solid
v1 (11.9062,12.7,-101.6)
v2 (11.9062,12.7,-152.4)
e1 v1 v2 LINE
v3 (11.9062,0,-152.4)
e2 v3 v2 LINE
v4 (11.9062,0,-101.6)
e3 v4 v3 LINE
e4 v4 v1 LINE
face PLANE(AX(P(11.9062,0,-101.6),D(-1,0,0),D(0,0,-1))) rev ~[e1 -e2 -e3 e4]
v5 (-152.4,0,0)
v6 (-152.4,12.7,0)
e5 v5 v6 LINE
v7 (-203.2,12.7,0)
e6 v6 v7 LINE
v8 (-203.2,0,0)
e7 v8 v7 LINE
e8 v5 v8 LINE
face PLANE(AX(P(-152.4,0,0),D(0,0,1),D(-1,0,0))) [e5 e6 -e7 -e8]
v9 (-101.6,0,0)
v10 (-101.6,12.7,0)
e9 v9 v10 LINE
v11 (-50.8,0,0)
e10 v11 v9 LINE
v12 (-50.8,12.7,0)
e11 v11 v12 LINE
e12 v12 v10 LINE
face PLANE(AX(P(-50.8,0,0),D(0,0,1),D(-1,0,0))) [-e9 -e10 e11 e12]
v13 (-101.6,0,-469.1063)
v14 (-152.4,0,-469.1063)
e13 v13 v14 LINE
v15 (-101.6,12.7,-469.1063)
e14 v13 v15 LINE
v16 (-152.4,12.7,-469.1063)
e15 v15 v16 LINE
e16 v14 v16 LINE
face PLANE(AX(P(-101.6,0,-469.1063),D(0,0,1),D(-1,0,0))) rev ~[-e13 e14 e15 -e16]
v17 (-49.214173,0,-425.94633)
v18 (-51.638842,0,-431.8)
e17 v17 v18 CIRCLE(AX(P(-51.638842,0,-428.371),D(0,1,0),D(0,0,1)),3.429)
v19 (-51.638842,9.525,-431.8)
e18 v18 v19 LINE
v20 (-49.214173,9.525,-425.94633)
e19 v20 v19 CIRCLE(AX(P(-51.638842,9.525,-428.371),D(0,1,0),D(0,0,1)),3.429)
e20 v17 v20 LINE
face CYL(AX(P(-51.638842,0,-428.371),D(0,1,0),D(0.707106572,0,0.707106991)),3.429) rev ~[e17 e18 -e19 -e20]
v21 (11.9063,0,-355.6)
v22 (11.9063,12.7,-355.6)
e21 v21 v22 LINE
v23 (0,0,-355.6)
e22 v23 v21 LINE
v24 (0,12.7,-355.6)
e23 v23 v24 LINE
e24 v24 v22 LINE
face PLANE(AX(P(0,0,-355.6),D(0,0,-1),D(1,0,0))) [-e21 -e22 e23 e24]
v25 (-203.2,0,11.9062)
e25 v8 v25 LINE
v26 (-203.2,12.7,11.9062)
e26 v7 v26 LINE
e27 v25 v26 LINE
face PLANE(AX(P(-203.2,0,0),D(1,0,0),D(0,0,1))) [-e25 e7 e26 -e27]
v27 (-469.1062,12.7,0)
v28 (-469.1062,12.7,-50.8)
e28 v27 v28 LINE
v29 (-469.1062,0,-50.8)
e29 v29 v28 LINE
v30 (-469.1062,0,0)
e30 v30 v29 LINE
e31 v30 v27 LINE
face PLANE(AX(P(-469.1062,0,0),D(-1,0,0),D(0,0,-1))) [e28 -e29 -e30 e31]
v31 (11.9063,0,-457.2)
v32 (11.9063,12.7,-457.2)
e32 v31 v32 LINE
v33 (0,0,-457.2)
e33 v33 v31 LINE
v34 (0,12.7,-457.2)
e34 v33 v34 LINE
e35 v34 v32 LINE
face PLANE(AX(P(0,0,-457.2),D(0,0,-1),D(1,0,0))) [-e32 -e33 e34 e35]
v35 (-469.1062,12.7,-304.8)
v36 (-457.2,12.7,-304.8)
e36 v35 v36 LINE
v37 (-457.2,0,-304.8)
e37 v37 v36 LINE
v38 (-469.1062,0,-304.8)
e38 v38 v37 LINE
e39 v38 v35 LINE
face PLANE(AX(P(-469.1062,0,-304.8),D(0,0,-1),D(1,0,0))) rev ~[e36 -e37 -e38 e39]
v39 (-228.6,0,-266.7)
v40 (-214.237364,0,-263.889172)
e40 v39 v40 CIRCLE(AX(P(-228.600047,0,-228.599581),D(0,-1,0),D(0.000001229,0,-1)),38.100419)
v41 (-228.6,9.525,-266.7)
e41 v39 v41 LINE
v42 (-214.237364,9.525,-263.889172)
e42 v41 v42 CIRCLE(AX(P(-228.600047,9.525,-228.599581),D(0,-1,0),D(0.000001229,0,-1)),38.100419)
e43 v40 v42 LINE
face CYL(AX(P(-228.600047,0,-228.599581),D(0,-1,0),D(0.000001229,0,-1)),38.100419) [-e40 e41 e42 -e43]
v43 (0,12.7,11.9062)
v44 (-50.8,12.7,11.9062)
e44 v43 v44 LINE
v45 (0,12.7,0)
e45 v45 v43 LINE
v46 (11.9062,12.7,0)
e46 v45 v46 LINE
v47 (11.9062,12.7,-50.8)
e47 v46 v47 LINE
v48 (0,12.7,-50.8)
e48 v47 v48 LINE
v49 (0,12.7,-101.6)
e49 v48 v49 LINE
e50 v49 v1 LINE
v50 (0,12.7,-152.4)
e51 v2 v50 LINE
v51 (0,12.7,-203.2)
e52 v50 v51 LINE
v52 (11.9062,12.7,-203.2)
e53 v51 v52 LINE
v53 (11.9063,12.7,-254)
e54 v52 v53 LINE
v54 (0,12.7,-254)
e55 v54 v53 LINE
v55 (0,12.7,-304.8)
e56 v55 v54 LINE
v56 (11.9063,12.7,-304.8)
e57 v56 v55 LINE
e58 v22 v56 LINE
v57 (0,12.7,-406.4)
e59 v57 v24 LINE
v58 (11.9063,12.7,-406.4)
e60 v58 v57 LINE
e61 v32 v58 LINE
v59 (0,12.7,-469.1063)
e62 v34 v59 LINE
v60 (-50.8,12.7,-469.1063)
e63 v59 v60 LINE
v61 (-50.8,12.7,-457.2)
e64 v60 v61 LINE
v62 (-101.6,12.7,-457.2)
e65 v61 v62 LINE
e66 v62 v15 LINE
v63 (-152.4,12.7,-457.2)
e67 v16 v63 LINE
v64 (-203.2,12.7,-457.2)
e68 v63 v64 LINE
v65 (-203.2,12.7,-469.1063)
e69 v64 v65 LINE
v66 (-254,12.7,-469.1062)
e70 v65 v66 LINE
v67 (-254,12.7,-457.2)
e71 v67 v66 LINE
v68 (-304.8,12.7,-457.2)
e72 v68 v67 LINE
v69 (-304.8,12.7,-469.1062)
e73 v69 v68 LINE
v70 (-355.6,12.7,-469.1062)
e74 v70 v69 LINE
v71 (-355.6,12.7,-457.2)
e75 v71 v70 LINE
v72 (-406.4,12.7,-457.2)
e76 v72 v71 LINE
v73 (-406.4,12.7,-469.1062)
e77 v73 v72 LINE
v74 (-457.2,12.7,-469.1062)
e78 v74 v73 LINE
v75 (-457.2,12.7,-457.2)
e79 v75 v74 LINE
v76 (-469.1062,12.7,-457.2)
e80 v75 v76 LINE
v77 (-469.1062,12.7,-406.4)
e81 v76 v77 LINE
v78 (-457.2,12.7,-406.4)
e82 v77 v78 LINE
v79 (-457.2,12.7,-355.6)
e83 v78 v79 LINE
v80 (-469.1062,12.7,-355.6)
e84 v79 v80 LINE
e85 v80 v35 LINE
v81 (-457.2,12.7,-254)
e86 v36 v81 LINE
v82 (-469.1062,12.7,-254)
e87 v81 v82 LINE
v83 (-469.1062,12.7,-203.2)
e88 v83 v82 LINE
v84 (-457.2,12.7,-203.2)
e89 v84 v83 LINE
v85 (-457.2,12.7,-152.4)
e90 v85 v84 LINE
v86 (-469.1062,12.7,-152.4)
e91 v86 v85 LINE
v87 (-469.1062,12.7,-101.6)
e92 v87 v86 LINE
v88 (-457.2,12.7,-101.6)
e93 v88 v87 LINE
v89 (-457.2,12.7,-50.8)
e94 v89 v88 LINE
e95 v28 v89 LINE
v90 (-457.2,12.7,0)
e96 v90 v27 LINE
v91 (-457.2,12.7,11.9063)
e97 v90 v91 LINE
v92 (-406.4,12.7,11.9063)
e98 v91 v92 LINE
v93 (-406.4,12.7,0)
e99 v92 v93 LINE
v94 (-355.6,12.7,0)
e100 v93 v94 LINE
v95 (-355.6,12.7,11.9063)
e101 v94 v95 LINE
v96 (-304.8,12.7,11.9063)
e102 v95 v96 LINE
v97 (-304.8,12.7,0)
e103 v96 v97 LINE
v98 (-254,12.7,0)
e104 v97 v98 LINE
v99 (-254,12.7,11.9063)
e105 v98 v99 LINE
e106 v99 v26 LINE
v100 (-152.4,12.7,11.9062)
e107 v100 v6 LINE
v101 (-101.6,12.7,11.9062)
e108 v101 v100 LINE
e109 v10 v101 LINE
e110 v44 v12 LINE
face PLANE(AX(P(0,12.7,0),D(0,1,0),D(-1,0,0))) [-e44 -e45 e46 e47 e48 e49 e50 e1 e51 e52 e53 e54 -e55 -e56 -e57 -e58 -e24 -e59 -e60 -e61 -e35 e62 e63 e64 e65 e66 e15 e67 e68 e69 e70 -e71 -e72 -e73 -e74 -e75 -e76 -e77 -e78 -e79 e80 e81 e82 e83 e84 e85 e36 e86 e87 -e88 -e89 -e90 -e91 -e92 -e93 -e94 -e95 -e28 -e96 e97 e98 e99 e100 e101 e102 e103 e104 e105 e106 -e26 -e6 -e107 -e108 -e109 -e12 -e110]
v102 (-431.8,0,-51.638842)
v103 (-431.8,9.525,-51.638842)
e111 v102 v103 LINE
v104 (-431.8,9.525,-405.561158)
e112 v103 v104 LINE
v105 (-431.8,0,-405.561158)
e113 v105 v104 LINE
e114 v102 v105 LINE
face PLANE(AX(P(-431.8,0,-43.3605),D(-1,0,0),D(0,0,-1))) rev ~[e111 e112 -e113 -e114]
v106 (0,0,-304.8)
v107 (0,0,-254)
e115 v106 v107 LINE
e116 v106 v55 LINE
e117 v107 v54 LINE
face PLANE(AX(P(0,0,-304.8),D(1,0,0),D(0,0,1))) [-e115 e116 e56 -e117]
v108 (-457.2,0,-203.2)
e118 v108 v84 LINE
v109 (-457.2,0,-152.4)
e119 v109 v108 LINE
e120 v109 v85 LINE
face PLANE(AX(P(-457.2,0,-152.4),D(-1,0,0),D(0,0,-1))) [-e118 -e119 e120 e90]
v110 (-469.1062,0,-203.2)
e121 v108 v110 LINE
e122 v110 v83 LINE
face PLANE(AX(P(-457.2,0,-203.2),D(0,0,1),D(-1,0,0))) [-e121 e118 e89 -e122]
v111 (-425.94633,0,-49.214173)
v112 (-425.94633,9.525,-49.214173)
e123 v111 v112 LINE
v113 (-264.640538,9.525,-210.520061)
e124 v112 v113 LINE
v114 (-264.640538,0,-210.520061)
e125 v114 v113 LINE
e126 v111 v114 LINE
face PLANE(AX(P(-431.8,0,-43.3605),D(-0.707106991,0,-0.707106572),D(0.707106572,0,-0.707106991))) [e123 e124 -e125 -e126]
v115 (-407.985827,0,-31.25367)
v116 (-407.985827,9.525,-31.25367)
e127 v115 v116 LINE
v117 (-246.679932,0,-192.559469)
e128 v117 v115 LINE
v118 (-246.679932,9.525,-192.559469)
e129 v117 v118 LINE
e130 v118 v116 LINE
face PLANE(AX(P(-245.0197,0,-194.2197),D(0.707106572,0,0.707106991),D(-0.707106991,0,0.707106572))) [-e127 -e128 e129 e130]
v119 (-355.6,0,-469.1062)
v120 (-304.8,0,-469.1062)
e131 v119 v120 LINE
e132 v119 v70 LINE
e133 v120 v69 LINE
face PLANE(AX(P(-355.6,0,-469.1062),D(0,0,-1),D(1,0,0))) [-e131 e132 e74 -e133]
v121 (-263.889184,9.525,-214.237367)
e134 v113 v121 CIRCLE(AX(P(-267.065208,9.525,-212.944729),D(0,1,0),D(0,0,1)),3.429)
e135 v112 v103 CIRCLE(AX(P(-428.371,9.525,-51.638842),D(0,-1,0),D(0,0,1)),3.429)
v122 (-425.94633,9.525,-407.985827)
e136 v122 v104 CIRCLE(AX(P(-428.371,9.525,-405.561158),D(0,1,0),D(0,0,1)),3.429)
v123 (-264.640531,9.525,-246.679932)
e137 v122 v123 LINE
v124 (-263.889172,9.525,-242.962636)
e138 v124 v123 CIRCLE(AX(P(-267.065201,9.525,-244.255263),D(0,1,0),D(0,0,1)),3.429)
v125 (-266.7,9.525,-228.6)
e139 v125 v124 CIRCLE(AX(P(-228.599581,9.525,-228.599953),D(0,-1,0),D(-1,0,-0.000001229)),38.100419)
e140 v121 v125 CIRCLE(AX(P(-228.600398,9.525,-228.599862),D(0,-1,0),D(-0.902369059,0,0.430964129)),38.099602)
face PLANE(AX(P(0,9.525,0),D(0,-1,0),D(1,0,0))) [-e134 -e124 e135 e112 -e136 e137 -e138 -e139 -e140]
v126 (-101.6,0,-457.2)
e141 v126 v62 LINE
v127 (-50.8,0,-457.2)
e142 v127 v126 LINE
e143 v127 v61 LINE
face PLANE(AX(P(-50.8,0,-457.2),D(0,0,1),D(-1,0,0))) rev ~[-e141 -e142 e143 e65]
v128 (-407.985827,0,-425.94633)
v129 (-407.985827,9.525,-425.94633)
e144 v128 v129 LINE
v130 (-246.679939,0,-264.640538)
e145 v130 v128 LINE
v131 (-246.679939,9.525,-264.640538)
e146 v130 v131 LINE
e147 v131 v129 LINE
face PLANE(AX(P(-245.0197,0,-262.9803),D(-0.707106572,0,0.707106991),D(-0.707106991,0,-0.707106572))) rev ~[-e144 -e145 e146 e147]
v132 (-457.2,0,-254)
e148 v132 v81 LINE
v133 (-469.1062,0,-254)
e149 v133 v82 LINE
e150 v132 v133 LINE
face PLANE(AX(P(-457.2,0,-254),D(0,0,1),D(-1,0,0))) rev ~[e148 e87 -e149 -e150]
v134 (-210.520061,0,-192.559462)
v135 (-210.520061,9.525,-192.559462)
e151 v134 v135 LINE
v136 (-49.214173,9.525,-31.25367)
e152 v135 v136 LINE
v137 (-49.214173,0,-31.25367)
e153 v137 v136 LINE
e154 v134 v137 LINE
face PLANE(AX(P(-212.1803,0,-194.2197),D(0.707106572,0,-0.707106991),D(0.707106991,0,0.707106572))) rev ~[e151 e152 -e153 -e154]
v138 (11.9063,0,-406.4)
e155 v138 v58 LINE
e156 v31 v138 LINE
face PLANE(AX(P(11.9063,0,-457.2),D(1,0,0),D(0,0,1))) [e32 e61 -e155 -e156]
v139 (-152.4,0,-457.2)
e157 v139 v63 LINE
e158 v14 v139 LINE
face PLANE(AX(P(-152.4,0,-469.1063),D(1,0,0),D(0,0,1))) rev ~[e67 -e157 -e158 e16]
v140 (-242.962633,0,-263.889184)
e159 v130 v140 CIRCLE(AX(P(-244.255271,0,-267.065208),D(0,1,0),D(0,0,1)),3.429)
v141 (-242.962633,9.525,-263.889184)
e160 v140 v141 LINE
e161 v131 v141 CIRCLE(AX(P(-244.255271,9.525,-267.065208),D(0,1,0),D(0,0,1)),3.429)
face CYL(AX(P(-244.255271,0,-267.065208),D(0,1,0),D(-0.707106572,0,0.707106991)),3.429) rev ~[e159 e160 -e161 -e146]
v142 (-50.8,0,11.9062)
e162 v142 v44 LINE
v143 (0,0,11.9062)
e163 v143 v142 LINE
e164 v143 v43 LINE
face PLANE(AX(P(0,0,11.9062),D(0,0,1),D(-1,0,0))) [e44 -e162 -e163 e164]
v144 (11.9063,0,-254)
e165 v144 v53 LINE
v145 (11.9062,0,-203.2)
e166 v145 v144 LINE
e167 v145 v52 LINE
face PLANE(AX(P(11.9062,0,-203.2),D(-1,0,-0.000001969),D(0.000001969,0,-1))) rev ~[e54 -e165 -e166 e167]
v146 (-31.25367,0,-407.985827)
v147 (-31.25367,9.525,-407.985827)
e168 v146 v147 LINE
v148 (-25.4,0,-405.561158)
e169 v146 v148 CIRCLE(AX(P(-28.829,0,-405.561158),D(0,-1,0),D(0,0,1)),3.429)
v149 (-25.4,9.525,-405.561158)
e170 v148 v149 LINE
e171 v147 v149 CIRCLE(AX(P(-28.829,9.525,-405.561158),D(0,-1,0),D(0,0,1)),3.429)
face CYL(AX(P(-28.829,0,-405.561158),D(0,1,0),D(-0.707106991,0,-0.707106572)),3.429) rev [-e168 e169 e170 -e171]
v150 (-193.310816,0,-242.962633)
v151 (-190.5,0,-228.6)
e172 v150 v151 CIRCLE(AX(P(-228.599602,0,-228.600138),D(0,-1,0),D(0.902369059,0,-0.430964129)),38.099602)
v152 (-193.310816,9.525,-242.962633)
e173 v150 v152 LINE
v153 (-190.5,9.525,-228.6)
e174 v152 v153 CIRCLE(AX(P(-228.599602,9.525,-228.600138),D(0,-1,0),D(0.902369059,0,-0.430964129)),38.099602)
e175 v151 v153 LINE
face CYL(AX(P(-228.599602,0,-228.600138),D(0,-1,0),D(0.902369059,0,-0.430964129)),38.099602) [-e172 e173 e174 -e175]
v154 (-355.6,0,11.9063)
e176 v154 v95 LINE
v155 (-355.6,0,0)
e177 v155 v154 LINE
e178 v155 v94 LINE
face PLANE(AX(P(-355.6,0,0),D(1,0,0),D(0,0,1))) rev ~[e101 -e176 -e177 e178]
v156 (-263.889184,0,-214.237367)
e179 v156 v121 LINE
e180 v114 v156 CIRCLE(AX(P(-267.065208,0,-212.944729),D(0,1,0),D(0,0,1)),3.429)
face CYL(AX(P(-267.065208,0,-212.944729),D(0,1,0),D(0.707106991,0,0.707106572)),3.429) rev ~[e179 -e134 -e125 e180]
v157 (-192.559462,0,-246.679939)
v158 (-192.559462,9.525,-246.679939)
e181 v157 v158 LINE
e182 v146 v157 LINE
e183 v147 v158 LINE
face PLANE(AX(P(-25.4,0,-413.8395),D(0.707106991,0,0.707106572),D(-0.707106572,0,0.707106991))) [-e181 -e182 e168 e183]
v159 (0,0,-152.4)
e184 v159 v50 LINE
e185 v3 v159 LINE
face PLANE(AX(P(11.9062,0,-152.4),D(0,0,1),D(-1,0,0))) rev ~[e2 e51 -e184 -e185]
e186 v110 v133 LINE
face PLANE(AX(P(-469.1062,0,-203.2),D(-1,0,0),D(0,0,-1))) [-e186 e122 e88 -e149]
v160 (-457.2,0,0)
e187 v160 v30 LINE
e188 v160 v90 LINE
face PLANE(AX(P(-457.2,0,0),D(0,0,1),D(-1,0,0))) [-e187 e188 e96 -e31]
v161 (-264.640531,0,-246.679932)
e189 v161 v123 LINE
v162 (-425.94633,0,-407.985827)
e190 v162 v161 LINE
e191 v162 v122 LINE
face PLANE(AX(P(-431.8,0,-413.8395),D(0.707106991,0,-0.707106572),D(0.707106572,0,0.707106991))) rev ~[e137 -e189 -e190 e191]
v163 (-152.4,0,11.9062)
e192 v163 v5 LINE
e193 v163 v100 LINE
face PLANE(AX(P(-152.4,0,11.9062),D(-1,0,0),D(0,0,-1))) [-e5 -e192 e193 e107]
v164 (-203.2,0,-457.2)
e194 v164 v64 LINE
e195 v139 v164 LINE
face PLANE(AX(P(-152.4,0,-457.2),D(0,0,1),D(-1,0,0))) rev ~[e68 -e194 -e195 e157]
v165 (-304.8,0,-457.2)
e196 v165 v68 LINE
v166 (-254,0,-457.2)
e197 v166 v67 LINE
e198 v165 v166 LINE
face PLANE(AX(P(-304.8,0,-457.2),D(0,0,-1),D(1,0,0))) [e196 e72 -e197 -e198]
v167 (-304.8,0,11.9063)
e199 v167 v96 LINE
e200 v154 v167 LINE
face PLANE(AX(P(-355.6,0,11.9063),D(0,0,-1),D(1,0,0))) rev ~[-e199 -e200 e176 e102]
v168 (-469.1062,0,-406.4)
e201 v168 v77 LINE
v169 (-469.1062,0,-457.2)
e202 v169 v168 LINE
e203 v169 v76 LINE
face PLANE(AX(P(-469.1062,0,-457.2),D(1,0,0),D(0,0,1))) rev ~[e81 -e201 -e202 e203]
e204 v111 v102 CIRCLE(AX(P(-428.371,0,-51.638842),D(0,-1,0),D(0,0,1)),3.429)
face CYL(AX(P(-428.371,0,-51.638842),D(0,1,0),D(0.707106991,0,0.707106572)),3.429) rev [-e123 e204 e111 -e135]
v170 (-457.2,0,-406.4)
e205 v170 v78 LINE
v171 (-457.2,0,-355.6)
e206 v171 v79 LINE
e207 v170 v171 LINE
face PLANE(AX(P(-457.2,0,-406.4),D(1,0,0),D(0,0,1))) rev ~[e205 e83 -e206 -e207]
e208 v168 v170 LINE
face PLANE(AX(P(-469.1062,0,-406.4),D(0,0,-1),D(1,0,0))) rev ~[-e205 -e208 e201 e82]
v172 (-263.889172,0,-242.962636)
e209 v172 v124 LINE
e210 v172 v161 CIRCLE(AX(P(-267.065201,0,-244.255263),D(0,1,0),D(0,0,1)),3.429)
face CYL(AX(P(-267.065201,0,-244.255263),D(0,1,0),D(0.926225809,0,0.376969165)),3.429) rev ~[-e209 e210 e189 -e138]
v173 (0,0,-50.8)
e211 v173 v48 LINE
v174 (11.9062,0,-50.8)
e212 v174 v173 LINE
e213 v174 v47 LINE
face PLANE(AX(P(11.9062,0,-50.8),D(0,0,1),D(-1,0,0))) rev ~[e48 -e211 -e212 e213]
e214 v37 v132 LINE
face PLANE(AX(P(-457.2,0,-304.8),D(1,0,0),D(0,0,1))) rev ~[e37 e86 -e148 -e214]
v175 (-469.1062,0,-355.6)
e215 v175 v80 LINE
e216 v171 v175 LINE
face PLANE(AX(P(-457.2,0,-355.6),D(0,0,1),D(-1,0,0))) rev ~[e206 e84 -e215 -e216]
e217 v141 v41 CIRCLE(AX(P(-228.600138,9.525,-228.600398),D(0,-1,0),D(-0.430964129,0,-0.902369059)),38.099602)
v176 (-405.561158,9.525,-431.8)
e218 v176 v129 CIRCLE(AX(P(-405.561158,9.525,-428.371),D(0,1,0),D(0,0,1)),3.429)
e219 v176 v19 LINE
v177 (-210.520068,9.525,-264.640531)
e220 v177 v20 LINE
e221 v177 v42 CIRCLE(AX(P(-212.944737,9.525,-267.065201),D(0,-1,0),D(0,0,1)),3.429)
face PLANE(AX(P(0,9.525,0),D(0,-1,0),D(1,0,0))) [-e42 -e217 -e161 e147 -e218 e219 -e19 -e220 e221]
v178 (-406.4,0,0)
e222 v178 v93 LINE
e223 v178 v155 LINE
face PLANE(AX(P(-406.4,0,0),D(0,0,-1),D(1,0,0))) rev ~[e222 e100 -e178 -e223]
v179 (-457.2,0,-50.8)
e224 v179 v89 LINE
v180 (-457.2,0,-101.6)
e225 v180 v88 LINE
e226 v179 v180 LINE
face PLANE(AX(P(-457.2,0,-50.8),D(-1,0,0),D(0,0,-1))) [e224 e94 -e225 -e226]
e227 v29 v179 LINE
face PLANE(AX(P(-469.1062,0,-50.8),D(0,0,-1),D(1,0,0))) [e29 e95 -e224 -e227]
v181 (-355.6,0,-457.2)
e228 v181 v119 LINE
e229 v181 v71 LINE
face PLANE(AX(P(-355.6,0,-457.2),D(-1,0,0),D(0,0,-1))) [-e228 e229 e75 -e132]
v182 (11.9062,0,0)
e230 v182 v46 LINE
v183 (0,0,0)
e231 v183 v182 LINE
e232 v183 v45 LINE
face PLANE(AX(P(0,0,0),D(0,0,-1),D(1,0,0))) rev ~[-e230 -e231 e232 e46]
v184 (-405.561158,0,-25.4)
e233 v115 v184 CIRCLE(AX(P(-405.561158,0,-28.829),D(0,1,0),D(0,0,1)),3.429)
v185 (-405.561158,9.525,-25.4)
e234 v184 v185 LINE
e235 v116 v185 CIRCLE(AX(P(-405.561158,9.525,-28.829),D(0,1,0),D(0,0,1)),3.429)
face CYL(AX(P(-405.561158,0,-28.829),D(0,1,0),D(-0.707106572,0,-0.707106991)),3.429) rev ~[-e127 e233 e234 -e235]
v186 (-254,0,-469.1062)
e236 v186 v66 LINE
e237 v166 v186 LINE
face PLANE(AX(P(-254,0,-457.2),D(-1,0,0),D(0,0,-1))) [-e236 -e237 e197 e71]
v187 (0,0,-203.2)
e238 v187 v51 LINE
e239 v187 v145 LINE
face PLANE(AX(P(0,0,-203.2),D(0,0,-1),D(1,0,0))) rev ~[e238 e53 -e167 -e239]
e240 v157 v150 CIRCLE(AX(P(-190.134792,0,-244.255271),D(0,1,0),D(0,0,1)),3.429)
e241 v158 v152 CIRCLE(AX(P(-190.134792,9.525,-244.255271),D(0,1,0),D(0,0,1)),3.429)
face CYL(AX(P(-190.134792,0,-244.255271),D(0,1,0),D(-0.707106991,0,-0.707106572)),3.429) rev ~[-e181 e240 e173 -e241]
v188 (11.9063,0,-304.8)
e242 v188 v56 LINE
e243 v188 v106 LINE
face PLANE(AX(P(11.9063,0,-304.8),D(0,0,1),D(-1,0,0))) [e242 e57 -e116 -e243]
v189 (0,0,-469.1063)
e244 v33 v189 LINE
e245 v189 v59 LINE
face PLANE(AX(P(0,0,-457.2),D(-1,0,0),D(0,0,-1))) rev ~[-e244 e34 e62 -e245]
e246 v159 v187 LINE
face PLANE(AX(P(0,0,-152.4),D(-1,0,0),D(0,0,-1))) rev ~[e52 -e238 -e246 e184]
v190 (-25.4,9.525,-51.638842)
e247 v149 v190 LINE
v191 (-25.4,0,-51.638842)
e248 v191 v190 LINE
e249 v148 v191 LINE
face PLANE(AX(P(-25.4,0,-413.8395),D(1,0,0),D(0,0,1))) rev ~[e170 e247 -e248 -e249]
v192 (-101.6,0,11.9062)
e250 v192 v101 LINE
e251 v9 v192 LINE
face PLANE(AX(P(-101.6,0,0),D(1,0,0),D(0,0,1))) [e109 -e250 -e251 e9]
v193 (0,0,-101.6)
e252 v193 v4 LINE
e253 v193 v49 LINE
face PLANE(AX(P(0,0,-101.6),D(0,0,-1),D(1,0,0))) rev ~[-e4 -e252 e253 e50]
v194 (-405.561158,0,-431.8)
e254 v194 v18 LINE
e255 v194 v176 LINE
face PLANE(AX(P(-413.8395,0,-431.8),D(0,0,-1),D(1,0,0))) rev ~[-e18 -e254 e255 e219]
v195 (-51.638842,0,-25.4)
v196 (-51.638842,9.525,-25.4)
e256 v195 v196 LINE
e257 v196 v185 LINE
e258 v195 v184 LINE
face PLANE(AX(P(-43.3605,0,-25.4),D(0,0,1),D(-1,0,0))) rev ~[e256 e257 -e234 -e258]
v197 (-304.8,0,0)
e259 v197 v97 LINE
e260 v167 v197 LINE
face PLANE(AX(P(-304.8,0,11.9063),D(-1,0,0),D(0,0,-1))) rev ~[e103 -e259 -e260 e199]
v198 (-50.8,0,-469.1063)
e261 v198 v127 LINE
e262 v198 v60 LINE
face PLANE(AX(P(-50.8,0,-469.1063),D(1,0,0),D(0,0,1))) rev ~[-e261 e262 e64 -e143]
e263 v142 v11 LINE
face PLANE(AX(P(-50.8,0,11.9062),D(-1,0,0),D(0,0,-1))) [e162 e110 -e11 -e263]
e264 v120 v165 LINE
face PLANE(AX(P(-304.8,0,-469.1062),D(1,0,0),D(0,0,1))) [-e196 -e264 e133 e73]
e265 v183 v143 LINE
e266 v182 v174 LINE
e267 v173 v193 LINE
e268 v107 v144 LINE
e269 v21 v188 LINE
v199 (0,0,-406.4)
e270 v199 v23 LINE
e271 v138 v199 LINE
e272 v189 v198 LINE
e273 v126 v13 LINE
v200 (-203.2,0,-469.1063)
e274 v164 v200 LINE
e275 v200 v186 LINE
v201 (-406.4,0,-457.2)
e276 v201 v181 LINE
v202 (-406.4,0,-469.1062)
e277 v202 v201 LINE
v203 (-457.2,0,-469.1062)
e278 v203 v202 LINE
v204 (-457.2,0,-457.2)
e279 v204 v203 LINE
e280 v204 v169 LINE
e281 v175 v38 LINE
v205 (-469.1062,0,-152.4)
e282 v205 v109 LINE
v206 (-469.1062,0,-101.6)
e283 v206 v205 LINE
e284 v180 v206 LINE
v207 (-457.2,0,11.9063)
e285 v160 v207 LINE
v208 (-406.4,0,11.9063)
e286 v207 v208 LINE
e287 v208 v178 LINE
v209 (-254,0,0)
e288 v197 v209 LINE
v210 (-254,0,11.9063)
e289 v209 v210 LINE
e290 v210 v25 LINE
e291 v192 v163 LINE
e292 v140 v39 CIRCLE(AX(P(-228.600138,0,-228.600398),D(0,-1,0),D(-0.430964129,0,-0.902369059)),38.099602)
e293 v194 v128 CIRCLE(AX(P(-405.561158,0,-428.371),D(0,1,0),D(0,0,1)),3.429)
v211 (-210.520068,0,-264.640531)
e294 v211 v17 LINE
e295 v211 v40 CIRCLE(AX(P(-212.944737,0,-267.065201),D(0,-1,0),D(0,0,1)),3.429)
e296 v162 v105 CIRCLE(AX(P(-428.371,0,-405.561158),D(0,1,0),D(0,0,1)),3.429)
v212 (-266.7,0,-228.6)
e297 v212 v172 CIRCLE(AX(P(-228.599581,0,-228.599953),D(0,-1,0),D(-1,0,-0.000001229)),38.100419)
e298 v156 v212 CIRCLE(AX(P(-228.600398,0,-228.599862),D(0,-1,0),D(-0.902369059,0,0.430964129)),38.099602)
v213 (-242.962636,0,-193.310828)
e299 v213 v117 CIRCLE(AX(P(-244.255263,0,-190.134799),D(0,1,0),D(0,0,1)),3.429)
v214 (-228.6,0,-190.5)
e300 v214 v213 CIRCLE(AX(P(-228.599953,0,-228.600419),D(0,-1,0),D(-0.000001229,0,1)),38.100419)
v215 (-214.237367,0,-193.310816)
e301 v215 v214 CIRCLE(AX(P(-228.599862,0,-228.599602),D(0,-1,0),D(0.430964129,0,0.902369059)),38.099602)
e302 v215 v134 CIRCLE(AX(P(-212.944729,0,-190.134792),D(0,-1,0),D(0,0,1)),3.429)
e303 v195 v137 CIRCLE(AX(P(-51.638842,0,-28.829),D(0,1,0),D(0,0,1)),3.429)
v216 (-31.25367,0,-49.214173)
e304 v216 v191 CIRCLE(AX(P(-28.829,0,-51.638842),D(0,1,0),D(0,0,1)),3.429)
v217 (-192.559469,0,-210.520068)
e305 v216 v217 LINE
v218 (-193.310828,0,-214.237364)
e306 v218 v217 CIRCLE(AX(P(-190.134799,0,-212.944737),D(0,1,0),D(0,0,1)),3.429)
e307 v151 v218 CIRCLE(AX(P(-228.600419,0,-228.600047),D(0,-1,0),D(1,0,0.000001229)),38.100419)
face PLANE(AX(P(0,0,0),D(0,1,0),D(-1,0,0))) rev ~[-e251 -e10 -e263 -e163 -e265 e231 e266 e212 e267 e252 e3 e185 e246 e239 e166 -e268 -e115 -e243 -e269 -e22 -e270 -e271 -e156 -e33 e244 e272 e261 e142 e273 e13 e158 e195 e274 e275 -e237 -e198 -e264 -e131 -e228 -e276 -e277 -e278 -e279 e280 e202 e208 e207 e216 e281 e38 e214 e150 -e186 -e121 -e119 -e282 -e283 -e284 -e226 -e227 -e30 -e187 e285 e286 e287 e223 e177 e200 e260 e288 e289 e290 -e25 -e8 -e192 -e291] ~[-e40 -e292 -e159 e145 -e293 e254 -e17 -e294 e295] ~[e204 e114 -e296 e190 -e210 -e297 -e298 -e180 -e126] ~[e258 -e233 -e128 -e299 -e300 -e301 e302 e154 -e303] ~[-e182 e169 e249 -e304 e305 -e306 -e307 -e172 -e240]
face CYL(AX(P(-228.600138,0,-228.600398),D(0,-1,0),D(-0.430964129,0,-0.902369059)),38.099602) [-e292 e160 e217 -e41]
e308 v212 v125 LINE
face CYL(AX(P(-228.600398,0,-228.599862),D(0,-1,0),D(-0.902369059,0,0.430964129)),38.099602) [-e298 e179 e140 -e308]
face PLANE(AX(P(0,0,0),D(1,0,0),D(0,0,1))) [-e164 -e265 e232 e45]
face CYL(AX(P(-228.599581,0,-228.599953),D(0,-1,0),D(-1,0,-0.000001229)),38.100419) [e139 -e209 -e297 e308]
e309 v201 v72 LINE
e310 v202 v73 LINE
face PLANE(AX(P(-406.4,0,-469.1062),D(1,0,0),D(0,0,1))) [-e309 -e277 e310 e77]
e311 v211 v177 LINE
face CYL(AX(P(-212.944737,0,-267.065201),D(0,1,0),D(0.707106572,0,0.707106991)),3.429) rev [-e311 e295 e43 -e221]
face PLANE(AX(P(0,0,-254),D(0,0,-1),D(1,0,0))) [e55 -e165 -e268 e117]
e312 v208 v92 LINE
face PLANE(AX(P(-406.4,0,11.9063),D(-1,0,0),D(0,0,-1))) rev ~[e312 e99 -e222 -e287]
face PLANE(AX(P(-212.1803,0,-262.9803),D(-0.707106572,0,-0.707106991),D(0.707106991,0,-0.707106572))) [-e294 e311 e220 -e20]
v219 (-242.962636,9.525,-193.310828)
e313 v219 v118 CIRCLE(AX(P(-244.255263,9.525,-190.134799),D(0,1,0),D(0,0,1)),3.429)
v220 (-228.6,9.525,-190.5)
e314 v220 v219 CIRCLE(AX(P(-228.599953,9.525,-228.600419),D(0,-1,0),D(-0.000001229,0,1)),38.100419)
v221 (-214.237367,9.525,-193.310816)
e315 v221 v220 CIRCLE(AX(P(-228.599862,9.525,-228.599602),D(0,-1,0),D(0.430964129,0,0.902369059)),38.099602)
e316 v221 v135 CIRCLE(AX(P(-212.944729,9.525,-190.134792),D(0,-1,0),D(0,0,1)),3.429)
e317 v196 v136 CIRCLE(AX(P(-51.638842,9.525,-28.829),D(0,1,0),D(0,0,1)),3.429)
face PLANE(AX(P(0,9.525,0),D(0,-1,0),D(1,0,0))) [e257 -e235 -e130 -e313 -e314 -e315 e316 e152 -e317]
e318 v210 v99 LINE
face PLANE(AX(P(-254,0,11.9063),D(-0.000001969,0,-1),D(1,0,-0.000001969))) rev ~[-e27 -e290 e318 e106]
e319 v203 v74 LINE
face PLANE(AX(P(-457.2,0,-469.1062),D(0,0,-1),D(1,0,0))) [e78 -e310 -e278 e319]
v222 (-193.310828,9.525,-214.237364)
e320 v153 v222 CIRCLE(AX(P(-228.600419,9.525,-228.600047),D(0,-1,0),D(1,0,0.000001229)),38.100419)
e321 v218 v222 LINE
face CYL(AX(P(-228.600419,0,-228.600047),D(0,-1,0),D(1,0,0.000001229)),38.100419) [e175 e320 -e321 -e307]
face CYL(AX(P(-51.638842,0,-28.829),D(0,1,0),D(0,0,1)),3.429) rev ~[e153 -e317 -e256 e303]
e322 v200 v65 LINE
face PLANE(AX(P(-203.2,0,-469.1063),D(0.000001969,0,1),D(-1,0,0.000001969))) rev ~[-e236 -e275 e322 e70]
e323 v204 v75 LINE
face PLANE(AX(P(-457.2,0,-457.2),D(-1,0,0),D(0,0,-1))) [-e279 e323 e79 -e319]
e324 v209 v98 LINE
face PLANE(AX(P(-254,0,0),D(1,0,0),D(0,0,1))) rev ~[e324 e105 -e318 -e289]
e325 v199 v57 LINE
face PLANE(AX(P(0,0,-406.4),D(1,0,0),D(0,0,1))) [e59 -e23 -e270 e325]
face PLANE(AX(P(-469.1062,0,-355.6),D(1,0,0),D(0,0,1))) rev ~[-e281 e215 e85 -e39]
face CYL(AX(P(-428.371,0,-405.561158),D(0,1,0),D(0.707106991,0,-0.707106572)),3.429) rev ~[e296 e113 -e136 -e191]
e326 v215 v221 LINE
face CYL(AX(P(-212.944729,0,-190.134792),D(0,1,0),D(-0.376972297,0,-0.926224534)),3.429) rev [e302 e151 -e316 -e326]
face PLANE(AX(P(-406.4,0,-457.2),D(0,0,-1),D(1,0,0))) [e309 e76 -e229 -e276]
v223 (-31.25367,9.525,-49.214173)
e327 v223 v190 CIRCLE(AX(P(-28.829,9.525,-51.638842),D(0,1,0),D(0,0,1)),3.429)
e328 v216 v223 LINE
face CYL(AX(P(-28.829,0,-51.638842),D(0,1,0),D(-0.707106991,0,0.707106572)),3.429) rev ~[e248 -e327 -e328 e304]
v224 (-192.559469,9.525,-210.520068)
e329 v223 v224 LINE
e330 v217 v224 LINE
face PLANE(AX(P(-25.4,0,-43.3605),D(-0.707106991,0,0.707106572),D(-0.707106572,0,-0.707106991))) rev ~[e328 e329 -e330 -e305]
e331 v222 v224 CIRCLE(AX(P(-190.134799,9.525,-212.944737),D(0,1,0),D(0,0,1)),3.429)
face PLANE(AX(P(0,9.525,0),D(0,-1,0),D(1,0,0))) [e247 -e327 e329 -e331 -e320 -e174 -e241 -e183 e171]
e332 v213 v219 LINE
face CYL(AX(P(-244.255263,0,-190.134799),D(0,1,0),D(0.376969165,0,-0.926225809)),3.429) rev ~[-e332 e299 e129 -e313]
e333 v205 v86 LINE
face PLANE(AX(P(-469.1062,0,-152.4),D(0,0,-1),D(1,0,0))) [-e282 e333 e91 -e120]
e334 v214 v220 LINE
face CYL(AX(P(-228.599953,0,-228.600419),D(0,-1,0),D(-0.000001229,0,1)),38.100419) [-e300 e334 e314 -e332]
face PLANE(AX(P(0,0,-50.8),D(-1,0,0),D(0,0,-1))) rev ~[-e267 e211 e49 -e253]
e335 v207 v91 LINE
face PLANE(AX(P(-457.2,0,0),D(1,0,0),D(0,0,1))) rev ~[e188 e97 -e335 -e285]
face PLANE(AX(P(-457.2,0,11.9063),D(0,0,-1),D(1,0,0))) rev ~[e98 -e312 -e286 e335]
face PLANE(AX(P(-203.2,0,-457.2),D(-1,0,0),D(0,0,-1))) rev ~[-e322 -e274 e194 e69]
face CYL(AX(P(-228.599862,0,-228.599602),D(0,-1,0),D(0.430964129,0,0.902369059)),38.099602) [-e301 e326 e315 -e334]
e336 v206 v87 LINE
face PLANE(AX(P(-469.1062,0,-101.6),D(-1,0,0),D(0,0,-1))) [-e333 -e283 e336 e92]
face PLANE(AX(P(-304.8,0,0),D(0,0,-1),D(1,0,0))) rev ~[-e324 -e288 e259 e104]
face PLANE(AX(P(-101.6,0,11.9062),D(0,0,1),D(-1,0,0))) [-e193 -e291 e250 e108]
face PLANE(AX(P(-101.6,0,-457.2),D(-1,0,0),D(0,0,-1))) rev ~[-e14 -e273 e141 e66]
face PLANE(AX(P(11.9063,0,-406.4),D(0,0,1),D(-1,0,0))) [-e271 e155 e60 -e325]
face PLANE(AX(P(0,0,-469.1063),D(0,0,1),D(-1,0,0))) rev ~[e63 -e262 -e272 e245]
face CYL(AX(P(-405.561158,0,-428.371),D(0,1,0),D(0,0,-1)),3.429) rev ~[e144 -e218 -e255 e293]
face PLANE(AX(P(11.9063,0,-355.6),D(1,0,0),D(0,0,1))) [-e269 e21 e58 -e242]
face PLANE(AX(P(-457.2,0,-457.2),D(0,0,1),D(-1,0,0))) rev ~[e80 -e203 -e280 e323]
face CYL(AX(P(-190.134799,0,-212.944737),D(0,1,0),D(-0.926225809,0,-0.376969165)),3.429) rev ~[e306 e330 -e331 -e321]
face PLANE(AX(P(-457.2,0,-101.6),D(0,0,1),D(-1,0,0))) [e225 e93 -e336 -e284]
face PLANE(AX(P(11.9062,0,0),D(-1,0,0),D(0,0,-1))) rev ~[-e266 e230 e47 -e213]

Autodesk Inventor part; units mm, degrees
ref_plane "YZ Plane" through (0, 0, 0) normal (1, 0, 0) x (0, 1, 0)
ref_plane "XZ Plane" through (0, 0, 0) normal (0, 1, 0) x (-1, 0, 0)
ref_plane "XY Plane" through (0, 0, 0) normal (0, 0, 1) x (1, 0, 0)
sketch "Sketch1" plane through (0, 0, 0) normal (0, 1, 0) x (-1, 0, 0)
  line L0 (0, 0) -> (-11.9062, 0)
  line L1 (-11.9062, 0) -> (-11.9062, -50.8)
  line L2 (-11.9062, -50.8) -> (0, -50.8)
  line L3 (0, -50.8) -> (0, -101.6)
  line L4 (0, -101.6) -> (-11.9062, -101.6)
  line L5 (-11.9062, -101.6) -> (-11.9062, -152.4)
  line L6 (-11.9062, -152.4) -> (0, -152.4)
  line L7 (0, -152.4) -> (0, -203.2)
  line L8 (0, -203.2) -> (-11.9062, -203.2)
  line L9 (0, 0) -> (0, 11.9062)
  line L10 (0, 11.9062) -> (50.8, 11.9062)
  line L11 (50.8, 11.9062) -> (50.8, 0)
  line L12 (50.8, 0) -> (101.6, 0)
  line L13 (101.6, 0) -> (101.6, 11.9062)
  line L14 (101.6, 11.9062) -> (152.4, 11.9062)
  line L15 (152.4, 11.9062) -> (152.4, 0)
  line L16 (152.4, 0) -> (203.2, 0)
  line L17 (203.2, 0) -> (203.2, 11.9062)
  line L18 (0, -457.2) -> (0, -469.1063)
  line L19 (50.8, -457.2) -> (101.6, -457.2)
  line L20 (50.8, -469.1063) -> (50.8, -457.2)
  line L21 (0, -469.1063) -> (50.8, -469.1063)
  line L22 (0, -457.2) -> (-11.9063, -457.2)
  line L23 (-11.9063, -457.2) -> (-11.9063, -406.4)
  line L24 (-11.9063, -406.4) -> (0, -406.4)
  line L25 (0, -406.4) -> (0, -355.6)
  line L26 (0, -355.6) -> (-11.9063, -355.6)
  line L27 (-11.9063, -355.6) -> (-11.9063, -304.8)
  line L28 (-11.9063, -304.8) -> (0, -304.8)
  line L29 (0, -304.8) -> (0, -254)
  line L30 (0, -254) -> (-11.9063, -254)
  line L31 (101.6, -457.2) -> (101.6, -469.1063)
  line L32 (101.6, -469.1063) -> (152.4, -469.1063)
  line L33 (152.4, -469.1063) -> (152.4, -457.2)
  line L34 (152.4, -457.2) -> (203.2, -457.2)
  line L35 (203.2, -457.2) -> (203.2, -469.1063)
  line L36 (457.2, -457.2) -> (469.1062, -457.2)
  line L37 (457.2, -406.4) -> (457.2, -355.6)
  line L38 (469.1062, -406.4) -> (457.2, -406.4)
  line L39 (469.1062, -457.2) -> (469.1062, -406.4)
  line L40 (457.2, -457.2) -> (457.2, -469.1062)
  line L41 (457.2, -469.1062) -> (406.4, -469.1062)
  line L42 (406.4, -469.1062) -> (406.4, -457.2)
  line L43 (406.4, -457.2) -> (355.6, -457.2)
  line L44 (355.6, -457.2) -> (355.6, -469.1062)
  line L45 (355.6, -469.1062) -> (304.8, -469.1062)
  line L46 (304.8, -469.1062) -> (304.8, -457.2)
  line L47 (304.8, -457.2) -> (254, -457.2)
  line L48 (254, -457.2) -> (254, -469.1062)
  line L49 (457.2, -355.6) -> (469.1062, -355.6)
  line L50 (469.1062, -355.6) -> (469.1062, -304.8)
  line L51 (469.1062, -304.8) -> (457.2, -304.8)
  line L52 (457.2, -304.8) -> (457.2, -254)
  line L53 (457.2, -254) -> (469.1062, -254)
  line L54 (457.2, 0) -> (457.2, 11.9063)
  line L55 (406.4, 0) -> (355.6, 0)
  line L56 (406.4, 11.9063) -> (406.4, 0)
  line L57 (457.2, 11.9063) -> (406.4, 11.9063)
  line L58 (457.2, 0) -> (469.1062, 0)
  line L59 (469.1062, 0) -> (469.1062, -50.8)
  line L60 (469.1062, -50.8) -> (457.2, -50.8)
  line L61 (457.2, -50.8) -> (457.2, -101.6)
  line L62 (457.2, -101.6) -> (469.1062, -101.6)
  line L63 (469.1062, -101.6) -> (469.1062, -152.4)
  line L64 (469.1062, -152.4) -> (457.2, -152.4)
  line L65 (457.2, -152.4) -> (457.2, -203.2)
  line L66 (457.2, -203.2) -> (469.1062, -203.2)
  line L67 (355.6, 0) -> (355.6, 11.9063)
  line L68 (355.6, 11.9063) -> (304.8, 11.9063)
  line L69 (304.8, 11.9063) -> (304.8, 0)
  line L70 (304.8, 0) -> (254, 0)
  line L71 (254, 0) -> (254, 11.9063)
  line L72 (254, 11.9063) -> (203.2, 11.9062)
  line L73 (-11.9062, -203.2) -> (-11.9063, -254)
  line L74 (203.2, -469.1063) -> (254, -469.1062)
  line L75 (469.1062, -203.2) -> (469.1062, -254)
  point P0 (228.6, -228.6)
  dimension "thickness" = 11.9062
  dimension "toothwidth" = 50.8
  dimension "d17" = 228.6
  dimension "d18" = 228.6
  dimension "d21" = 360
extrude "Extrusion1" add sketch "Sketch1" along normal blind 12.7
sketch "Sketch2" plane through (0, 0, 0) normal (0, -1, 0) x (1, 0, 0)
  line L0 (11.9062, -203.2) -> (11.9063, -254) construction
  line L1 (11.9063, -228.6) -> (-469.1062, -228.6) construction
  line L2 (-469.1062, -254) -> (-469.1062, -203.2) construction
  line L3 (-254, 11.9063) -> (-203.2, 11.9062) construction
  line L4 (-228.6, 11.9063) -> (-228.6, -469.1062) construction
  line L5 (-203.2, -469.1063) -> (-254, -469.1062) construction
  line L6 (0, 0) -> (-228.6, -228.6) construction
  line L7 (-25.4, -25.4) -> (-431.8, -25.4) construction
  line L8 (-431.8, -25.4) -> (-431.8, -431.8) construction
  line L9 (-431.8, -431.8) -> (-25.4, -431.8) construction
  line L10 (-25.4, -431.8) -> (-25.4, -25.4) construction
  line L11 (0, -254) -> (0, -304.8) construction
  line L12 (-152.4, -457.2) -> (-203.2, -457.2) construction
  line L13 (-212.1803, -194.2197) -> (-43.3605, -25.4)
  line L14 (-25.4, -43.3605) -> (-194.2197, -212.1803)
  arc A0 (-212.1803, -194.2197) -> (-228.6, -190.5) centre (-228.6, -228.6) ccw
  arc A1 (-190.5, -228.6) -> (-194.2197, -212.1803) centre (-228.6, -228.6) ccw
  line L15 (-245.0197, -194.2197) -> (-413.8395, -25.4)
  line L16 (-431.8, -43.3605) -> (-262.9803, -212.1803)
  arc A2 (-228.6, -190.5) -> (-245.0197, -194.2197) centre (-228.6, -228.6) ccw
  arc A3 (-262.9803, -212.1803) -> (-266.7, -228.6) centre (-228.6, -228.6) ccw
  line L17 (-212.1803, -262.9803) -> (-43.3605, -431.8)
  line L18 (-25.4, -413.8395) -> (-194.2197, -245.0197)
  arc A4 (-228.6, -266.7) -> (-212.1803, -262.9803) centre (-228.6, -228.6) ccw
  arc A5 (-194.2197, -245.0197) -> (-190.5, -228.6) centre (-228.6, -228.6) ccw
  line L19 (-431.8, -413.8395) -> (-262.9803, -245.0197)
  line L20 (-245.0197, -262.9803) -> (-413.8395, -431.8)
  arc A6 (-266.7, -228.6) -> (-262.9803, -245.0197) centre (-228.6, -228.6) ccw
  arc A7 (-245.0197, -262.9803) -> (-228.6, -266.7) centre (-228.6, -228.6) ccw
  line L21 (-43.3605, -25.4) -> (-413.8395, -25.4)
  line L22 (-431.8, -43.3605) -> (-431.8, -413.8395)
  line L23 (-413.8395, -431.8) -> (-43.3605, -431.8)
  line L24 (-25.4, -413.8395) -> (-25.4, -43.3605)
  dimension "border" = 25.4
  dimension "d27" = 25.4
  dimension "d28" = 38.1
  dimension "d29" = 38.1
  dimension "d30" = 12.7
  dimension "d31" = 12.7
extrude "Extrusion2" cut sketch "Sketch2" against normal blind 9.525
fillet "Fillet1" radius 3.429 16 edges at (-194.2197, 4.7625, -245.0197) (-245.0197, 4.7625, -194.2197) (-413.8395, 4.7625, -25.4) (-43.3605, 4.7625, -25.4) (-25.4, 4.7625, -43.3605) (-25.4, 4.7625, -413.8395) (-43.3605, 4.7625, -431.8) (-431.8, 4.7625, -43.3605) (-262.9803, 4.7625, -212.1803) (-194.2197, 4.7625, -212.1803) (-212.1803, 4.7625, -194.2197) (-212.1803, 4.7625, -262.9803) (-245.0197, 4.7625, -262.9803) (-262.9803, 4.7625, -245.0197) (-431.8, 4.7625, -413.8395) (-413.8395, 4.7625, -431.8)
equation "\"d27\" = border"
equation "\"d30\" = 0.5 * border"
equation "\"d31\" = 0.5 * border"
properties part number "Bottom" material "Wood (Birch)"
